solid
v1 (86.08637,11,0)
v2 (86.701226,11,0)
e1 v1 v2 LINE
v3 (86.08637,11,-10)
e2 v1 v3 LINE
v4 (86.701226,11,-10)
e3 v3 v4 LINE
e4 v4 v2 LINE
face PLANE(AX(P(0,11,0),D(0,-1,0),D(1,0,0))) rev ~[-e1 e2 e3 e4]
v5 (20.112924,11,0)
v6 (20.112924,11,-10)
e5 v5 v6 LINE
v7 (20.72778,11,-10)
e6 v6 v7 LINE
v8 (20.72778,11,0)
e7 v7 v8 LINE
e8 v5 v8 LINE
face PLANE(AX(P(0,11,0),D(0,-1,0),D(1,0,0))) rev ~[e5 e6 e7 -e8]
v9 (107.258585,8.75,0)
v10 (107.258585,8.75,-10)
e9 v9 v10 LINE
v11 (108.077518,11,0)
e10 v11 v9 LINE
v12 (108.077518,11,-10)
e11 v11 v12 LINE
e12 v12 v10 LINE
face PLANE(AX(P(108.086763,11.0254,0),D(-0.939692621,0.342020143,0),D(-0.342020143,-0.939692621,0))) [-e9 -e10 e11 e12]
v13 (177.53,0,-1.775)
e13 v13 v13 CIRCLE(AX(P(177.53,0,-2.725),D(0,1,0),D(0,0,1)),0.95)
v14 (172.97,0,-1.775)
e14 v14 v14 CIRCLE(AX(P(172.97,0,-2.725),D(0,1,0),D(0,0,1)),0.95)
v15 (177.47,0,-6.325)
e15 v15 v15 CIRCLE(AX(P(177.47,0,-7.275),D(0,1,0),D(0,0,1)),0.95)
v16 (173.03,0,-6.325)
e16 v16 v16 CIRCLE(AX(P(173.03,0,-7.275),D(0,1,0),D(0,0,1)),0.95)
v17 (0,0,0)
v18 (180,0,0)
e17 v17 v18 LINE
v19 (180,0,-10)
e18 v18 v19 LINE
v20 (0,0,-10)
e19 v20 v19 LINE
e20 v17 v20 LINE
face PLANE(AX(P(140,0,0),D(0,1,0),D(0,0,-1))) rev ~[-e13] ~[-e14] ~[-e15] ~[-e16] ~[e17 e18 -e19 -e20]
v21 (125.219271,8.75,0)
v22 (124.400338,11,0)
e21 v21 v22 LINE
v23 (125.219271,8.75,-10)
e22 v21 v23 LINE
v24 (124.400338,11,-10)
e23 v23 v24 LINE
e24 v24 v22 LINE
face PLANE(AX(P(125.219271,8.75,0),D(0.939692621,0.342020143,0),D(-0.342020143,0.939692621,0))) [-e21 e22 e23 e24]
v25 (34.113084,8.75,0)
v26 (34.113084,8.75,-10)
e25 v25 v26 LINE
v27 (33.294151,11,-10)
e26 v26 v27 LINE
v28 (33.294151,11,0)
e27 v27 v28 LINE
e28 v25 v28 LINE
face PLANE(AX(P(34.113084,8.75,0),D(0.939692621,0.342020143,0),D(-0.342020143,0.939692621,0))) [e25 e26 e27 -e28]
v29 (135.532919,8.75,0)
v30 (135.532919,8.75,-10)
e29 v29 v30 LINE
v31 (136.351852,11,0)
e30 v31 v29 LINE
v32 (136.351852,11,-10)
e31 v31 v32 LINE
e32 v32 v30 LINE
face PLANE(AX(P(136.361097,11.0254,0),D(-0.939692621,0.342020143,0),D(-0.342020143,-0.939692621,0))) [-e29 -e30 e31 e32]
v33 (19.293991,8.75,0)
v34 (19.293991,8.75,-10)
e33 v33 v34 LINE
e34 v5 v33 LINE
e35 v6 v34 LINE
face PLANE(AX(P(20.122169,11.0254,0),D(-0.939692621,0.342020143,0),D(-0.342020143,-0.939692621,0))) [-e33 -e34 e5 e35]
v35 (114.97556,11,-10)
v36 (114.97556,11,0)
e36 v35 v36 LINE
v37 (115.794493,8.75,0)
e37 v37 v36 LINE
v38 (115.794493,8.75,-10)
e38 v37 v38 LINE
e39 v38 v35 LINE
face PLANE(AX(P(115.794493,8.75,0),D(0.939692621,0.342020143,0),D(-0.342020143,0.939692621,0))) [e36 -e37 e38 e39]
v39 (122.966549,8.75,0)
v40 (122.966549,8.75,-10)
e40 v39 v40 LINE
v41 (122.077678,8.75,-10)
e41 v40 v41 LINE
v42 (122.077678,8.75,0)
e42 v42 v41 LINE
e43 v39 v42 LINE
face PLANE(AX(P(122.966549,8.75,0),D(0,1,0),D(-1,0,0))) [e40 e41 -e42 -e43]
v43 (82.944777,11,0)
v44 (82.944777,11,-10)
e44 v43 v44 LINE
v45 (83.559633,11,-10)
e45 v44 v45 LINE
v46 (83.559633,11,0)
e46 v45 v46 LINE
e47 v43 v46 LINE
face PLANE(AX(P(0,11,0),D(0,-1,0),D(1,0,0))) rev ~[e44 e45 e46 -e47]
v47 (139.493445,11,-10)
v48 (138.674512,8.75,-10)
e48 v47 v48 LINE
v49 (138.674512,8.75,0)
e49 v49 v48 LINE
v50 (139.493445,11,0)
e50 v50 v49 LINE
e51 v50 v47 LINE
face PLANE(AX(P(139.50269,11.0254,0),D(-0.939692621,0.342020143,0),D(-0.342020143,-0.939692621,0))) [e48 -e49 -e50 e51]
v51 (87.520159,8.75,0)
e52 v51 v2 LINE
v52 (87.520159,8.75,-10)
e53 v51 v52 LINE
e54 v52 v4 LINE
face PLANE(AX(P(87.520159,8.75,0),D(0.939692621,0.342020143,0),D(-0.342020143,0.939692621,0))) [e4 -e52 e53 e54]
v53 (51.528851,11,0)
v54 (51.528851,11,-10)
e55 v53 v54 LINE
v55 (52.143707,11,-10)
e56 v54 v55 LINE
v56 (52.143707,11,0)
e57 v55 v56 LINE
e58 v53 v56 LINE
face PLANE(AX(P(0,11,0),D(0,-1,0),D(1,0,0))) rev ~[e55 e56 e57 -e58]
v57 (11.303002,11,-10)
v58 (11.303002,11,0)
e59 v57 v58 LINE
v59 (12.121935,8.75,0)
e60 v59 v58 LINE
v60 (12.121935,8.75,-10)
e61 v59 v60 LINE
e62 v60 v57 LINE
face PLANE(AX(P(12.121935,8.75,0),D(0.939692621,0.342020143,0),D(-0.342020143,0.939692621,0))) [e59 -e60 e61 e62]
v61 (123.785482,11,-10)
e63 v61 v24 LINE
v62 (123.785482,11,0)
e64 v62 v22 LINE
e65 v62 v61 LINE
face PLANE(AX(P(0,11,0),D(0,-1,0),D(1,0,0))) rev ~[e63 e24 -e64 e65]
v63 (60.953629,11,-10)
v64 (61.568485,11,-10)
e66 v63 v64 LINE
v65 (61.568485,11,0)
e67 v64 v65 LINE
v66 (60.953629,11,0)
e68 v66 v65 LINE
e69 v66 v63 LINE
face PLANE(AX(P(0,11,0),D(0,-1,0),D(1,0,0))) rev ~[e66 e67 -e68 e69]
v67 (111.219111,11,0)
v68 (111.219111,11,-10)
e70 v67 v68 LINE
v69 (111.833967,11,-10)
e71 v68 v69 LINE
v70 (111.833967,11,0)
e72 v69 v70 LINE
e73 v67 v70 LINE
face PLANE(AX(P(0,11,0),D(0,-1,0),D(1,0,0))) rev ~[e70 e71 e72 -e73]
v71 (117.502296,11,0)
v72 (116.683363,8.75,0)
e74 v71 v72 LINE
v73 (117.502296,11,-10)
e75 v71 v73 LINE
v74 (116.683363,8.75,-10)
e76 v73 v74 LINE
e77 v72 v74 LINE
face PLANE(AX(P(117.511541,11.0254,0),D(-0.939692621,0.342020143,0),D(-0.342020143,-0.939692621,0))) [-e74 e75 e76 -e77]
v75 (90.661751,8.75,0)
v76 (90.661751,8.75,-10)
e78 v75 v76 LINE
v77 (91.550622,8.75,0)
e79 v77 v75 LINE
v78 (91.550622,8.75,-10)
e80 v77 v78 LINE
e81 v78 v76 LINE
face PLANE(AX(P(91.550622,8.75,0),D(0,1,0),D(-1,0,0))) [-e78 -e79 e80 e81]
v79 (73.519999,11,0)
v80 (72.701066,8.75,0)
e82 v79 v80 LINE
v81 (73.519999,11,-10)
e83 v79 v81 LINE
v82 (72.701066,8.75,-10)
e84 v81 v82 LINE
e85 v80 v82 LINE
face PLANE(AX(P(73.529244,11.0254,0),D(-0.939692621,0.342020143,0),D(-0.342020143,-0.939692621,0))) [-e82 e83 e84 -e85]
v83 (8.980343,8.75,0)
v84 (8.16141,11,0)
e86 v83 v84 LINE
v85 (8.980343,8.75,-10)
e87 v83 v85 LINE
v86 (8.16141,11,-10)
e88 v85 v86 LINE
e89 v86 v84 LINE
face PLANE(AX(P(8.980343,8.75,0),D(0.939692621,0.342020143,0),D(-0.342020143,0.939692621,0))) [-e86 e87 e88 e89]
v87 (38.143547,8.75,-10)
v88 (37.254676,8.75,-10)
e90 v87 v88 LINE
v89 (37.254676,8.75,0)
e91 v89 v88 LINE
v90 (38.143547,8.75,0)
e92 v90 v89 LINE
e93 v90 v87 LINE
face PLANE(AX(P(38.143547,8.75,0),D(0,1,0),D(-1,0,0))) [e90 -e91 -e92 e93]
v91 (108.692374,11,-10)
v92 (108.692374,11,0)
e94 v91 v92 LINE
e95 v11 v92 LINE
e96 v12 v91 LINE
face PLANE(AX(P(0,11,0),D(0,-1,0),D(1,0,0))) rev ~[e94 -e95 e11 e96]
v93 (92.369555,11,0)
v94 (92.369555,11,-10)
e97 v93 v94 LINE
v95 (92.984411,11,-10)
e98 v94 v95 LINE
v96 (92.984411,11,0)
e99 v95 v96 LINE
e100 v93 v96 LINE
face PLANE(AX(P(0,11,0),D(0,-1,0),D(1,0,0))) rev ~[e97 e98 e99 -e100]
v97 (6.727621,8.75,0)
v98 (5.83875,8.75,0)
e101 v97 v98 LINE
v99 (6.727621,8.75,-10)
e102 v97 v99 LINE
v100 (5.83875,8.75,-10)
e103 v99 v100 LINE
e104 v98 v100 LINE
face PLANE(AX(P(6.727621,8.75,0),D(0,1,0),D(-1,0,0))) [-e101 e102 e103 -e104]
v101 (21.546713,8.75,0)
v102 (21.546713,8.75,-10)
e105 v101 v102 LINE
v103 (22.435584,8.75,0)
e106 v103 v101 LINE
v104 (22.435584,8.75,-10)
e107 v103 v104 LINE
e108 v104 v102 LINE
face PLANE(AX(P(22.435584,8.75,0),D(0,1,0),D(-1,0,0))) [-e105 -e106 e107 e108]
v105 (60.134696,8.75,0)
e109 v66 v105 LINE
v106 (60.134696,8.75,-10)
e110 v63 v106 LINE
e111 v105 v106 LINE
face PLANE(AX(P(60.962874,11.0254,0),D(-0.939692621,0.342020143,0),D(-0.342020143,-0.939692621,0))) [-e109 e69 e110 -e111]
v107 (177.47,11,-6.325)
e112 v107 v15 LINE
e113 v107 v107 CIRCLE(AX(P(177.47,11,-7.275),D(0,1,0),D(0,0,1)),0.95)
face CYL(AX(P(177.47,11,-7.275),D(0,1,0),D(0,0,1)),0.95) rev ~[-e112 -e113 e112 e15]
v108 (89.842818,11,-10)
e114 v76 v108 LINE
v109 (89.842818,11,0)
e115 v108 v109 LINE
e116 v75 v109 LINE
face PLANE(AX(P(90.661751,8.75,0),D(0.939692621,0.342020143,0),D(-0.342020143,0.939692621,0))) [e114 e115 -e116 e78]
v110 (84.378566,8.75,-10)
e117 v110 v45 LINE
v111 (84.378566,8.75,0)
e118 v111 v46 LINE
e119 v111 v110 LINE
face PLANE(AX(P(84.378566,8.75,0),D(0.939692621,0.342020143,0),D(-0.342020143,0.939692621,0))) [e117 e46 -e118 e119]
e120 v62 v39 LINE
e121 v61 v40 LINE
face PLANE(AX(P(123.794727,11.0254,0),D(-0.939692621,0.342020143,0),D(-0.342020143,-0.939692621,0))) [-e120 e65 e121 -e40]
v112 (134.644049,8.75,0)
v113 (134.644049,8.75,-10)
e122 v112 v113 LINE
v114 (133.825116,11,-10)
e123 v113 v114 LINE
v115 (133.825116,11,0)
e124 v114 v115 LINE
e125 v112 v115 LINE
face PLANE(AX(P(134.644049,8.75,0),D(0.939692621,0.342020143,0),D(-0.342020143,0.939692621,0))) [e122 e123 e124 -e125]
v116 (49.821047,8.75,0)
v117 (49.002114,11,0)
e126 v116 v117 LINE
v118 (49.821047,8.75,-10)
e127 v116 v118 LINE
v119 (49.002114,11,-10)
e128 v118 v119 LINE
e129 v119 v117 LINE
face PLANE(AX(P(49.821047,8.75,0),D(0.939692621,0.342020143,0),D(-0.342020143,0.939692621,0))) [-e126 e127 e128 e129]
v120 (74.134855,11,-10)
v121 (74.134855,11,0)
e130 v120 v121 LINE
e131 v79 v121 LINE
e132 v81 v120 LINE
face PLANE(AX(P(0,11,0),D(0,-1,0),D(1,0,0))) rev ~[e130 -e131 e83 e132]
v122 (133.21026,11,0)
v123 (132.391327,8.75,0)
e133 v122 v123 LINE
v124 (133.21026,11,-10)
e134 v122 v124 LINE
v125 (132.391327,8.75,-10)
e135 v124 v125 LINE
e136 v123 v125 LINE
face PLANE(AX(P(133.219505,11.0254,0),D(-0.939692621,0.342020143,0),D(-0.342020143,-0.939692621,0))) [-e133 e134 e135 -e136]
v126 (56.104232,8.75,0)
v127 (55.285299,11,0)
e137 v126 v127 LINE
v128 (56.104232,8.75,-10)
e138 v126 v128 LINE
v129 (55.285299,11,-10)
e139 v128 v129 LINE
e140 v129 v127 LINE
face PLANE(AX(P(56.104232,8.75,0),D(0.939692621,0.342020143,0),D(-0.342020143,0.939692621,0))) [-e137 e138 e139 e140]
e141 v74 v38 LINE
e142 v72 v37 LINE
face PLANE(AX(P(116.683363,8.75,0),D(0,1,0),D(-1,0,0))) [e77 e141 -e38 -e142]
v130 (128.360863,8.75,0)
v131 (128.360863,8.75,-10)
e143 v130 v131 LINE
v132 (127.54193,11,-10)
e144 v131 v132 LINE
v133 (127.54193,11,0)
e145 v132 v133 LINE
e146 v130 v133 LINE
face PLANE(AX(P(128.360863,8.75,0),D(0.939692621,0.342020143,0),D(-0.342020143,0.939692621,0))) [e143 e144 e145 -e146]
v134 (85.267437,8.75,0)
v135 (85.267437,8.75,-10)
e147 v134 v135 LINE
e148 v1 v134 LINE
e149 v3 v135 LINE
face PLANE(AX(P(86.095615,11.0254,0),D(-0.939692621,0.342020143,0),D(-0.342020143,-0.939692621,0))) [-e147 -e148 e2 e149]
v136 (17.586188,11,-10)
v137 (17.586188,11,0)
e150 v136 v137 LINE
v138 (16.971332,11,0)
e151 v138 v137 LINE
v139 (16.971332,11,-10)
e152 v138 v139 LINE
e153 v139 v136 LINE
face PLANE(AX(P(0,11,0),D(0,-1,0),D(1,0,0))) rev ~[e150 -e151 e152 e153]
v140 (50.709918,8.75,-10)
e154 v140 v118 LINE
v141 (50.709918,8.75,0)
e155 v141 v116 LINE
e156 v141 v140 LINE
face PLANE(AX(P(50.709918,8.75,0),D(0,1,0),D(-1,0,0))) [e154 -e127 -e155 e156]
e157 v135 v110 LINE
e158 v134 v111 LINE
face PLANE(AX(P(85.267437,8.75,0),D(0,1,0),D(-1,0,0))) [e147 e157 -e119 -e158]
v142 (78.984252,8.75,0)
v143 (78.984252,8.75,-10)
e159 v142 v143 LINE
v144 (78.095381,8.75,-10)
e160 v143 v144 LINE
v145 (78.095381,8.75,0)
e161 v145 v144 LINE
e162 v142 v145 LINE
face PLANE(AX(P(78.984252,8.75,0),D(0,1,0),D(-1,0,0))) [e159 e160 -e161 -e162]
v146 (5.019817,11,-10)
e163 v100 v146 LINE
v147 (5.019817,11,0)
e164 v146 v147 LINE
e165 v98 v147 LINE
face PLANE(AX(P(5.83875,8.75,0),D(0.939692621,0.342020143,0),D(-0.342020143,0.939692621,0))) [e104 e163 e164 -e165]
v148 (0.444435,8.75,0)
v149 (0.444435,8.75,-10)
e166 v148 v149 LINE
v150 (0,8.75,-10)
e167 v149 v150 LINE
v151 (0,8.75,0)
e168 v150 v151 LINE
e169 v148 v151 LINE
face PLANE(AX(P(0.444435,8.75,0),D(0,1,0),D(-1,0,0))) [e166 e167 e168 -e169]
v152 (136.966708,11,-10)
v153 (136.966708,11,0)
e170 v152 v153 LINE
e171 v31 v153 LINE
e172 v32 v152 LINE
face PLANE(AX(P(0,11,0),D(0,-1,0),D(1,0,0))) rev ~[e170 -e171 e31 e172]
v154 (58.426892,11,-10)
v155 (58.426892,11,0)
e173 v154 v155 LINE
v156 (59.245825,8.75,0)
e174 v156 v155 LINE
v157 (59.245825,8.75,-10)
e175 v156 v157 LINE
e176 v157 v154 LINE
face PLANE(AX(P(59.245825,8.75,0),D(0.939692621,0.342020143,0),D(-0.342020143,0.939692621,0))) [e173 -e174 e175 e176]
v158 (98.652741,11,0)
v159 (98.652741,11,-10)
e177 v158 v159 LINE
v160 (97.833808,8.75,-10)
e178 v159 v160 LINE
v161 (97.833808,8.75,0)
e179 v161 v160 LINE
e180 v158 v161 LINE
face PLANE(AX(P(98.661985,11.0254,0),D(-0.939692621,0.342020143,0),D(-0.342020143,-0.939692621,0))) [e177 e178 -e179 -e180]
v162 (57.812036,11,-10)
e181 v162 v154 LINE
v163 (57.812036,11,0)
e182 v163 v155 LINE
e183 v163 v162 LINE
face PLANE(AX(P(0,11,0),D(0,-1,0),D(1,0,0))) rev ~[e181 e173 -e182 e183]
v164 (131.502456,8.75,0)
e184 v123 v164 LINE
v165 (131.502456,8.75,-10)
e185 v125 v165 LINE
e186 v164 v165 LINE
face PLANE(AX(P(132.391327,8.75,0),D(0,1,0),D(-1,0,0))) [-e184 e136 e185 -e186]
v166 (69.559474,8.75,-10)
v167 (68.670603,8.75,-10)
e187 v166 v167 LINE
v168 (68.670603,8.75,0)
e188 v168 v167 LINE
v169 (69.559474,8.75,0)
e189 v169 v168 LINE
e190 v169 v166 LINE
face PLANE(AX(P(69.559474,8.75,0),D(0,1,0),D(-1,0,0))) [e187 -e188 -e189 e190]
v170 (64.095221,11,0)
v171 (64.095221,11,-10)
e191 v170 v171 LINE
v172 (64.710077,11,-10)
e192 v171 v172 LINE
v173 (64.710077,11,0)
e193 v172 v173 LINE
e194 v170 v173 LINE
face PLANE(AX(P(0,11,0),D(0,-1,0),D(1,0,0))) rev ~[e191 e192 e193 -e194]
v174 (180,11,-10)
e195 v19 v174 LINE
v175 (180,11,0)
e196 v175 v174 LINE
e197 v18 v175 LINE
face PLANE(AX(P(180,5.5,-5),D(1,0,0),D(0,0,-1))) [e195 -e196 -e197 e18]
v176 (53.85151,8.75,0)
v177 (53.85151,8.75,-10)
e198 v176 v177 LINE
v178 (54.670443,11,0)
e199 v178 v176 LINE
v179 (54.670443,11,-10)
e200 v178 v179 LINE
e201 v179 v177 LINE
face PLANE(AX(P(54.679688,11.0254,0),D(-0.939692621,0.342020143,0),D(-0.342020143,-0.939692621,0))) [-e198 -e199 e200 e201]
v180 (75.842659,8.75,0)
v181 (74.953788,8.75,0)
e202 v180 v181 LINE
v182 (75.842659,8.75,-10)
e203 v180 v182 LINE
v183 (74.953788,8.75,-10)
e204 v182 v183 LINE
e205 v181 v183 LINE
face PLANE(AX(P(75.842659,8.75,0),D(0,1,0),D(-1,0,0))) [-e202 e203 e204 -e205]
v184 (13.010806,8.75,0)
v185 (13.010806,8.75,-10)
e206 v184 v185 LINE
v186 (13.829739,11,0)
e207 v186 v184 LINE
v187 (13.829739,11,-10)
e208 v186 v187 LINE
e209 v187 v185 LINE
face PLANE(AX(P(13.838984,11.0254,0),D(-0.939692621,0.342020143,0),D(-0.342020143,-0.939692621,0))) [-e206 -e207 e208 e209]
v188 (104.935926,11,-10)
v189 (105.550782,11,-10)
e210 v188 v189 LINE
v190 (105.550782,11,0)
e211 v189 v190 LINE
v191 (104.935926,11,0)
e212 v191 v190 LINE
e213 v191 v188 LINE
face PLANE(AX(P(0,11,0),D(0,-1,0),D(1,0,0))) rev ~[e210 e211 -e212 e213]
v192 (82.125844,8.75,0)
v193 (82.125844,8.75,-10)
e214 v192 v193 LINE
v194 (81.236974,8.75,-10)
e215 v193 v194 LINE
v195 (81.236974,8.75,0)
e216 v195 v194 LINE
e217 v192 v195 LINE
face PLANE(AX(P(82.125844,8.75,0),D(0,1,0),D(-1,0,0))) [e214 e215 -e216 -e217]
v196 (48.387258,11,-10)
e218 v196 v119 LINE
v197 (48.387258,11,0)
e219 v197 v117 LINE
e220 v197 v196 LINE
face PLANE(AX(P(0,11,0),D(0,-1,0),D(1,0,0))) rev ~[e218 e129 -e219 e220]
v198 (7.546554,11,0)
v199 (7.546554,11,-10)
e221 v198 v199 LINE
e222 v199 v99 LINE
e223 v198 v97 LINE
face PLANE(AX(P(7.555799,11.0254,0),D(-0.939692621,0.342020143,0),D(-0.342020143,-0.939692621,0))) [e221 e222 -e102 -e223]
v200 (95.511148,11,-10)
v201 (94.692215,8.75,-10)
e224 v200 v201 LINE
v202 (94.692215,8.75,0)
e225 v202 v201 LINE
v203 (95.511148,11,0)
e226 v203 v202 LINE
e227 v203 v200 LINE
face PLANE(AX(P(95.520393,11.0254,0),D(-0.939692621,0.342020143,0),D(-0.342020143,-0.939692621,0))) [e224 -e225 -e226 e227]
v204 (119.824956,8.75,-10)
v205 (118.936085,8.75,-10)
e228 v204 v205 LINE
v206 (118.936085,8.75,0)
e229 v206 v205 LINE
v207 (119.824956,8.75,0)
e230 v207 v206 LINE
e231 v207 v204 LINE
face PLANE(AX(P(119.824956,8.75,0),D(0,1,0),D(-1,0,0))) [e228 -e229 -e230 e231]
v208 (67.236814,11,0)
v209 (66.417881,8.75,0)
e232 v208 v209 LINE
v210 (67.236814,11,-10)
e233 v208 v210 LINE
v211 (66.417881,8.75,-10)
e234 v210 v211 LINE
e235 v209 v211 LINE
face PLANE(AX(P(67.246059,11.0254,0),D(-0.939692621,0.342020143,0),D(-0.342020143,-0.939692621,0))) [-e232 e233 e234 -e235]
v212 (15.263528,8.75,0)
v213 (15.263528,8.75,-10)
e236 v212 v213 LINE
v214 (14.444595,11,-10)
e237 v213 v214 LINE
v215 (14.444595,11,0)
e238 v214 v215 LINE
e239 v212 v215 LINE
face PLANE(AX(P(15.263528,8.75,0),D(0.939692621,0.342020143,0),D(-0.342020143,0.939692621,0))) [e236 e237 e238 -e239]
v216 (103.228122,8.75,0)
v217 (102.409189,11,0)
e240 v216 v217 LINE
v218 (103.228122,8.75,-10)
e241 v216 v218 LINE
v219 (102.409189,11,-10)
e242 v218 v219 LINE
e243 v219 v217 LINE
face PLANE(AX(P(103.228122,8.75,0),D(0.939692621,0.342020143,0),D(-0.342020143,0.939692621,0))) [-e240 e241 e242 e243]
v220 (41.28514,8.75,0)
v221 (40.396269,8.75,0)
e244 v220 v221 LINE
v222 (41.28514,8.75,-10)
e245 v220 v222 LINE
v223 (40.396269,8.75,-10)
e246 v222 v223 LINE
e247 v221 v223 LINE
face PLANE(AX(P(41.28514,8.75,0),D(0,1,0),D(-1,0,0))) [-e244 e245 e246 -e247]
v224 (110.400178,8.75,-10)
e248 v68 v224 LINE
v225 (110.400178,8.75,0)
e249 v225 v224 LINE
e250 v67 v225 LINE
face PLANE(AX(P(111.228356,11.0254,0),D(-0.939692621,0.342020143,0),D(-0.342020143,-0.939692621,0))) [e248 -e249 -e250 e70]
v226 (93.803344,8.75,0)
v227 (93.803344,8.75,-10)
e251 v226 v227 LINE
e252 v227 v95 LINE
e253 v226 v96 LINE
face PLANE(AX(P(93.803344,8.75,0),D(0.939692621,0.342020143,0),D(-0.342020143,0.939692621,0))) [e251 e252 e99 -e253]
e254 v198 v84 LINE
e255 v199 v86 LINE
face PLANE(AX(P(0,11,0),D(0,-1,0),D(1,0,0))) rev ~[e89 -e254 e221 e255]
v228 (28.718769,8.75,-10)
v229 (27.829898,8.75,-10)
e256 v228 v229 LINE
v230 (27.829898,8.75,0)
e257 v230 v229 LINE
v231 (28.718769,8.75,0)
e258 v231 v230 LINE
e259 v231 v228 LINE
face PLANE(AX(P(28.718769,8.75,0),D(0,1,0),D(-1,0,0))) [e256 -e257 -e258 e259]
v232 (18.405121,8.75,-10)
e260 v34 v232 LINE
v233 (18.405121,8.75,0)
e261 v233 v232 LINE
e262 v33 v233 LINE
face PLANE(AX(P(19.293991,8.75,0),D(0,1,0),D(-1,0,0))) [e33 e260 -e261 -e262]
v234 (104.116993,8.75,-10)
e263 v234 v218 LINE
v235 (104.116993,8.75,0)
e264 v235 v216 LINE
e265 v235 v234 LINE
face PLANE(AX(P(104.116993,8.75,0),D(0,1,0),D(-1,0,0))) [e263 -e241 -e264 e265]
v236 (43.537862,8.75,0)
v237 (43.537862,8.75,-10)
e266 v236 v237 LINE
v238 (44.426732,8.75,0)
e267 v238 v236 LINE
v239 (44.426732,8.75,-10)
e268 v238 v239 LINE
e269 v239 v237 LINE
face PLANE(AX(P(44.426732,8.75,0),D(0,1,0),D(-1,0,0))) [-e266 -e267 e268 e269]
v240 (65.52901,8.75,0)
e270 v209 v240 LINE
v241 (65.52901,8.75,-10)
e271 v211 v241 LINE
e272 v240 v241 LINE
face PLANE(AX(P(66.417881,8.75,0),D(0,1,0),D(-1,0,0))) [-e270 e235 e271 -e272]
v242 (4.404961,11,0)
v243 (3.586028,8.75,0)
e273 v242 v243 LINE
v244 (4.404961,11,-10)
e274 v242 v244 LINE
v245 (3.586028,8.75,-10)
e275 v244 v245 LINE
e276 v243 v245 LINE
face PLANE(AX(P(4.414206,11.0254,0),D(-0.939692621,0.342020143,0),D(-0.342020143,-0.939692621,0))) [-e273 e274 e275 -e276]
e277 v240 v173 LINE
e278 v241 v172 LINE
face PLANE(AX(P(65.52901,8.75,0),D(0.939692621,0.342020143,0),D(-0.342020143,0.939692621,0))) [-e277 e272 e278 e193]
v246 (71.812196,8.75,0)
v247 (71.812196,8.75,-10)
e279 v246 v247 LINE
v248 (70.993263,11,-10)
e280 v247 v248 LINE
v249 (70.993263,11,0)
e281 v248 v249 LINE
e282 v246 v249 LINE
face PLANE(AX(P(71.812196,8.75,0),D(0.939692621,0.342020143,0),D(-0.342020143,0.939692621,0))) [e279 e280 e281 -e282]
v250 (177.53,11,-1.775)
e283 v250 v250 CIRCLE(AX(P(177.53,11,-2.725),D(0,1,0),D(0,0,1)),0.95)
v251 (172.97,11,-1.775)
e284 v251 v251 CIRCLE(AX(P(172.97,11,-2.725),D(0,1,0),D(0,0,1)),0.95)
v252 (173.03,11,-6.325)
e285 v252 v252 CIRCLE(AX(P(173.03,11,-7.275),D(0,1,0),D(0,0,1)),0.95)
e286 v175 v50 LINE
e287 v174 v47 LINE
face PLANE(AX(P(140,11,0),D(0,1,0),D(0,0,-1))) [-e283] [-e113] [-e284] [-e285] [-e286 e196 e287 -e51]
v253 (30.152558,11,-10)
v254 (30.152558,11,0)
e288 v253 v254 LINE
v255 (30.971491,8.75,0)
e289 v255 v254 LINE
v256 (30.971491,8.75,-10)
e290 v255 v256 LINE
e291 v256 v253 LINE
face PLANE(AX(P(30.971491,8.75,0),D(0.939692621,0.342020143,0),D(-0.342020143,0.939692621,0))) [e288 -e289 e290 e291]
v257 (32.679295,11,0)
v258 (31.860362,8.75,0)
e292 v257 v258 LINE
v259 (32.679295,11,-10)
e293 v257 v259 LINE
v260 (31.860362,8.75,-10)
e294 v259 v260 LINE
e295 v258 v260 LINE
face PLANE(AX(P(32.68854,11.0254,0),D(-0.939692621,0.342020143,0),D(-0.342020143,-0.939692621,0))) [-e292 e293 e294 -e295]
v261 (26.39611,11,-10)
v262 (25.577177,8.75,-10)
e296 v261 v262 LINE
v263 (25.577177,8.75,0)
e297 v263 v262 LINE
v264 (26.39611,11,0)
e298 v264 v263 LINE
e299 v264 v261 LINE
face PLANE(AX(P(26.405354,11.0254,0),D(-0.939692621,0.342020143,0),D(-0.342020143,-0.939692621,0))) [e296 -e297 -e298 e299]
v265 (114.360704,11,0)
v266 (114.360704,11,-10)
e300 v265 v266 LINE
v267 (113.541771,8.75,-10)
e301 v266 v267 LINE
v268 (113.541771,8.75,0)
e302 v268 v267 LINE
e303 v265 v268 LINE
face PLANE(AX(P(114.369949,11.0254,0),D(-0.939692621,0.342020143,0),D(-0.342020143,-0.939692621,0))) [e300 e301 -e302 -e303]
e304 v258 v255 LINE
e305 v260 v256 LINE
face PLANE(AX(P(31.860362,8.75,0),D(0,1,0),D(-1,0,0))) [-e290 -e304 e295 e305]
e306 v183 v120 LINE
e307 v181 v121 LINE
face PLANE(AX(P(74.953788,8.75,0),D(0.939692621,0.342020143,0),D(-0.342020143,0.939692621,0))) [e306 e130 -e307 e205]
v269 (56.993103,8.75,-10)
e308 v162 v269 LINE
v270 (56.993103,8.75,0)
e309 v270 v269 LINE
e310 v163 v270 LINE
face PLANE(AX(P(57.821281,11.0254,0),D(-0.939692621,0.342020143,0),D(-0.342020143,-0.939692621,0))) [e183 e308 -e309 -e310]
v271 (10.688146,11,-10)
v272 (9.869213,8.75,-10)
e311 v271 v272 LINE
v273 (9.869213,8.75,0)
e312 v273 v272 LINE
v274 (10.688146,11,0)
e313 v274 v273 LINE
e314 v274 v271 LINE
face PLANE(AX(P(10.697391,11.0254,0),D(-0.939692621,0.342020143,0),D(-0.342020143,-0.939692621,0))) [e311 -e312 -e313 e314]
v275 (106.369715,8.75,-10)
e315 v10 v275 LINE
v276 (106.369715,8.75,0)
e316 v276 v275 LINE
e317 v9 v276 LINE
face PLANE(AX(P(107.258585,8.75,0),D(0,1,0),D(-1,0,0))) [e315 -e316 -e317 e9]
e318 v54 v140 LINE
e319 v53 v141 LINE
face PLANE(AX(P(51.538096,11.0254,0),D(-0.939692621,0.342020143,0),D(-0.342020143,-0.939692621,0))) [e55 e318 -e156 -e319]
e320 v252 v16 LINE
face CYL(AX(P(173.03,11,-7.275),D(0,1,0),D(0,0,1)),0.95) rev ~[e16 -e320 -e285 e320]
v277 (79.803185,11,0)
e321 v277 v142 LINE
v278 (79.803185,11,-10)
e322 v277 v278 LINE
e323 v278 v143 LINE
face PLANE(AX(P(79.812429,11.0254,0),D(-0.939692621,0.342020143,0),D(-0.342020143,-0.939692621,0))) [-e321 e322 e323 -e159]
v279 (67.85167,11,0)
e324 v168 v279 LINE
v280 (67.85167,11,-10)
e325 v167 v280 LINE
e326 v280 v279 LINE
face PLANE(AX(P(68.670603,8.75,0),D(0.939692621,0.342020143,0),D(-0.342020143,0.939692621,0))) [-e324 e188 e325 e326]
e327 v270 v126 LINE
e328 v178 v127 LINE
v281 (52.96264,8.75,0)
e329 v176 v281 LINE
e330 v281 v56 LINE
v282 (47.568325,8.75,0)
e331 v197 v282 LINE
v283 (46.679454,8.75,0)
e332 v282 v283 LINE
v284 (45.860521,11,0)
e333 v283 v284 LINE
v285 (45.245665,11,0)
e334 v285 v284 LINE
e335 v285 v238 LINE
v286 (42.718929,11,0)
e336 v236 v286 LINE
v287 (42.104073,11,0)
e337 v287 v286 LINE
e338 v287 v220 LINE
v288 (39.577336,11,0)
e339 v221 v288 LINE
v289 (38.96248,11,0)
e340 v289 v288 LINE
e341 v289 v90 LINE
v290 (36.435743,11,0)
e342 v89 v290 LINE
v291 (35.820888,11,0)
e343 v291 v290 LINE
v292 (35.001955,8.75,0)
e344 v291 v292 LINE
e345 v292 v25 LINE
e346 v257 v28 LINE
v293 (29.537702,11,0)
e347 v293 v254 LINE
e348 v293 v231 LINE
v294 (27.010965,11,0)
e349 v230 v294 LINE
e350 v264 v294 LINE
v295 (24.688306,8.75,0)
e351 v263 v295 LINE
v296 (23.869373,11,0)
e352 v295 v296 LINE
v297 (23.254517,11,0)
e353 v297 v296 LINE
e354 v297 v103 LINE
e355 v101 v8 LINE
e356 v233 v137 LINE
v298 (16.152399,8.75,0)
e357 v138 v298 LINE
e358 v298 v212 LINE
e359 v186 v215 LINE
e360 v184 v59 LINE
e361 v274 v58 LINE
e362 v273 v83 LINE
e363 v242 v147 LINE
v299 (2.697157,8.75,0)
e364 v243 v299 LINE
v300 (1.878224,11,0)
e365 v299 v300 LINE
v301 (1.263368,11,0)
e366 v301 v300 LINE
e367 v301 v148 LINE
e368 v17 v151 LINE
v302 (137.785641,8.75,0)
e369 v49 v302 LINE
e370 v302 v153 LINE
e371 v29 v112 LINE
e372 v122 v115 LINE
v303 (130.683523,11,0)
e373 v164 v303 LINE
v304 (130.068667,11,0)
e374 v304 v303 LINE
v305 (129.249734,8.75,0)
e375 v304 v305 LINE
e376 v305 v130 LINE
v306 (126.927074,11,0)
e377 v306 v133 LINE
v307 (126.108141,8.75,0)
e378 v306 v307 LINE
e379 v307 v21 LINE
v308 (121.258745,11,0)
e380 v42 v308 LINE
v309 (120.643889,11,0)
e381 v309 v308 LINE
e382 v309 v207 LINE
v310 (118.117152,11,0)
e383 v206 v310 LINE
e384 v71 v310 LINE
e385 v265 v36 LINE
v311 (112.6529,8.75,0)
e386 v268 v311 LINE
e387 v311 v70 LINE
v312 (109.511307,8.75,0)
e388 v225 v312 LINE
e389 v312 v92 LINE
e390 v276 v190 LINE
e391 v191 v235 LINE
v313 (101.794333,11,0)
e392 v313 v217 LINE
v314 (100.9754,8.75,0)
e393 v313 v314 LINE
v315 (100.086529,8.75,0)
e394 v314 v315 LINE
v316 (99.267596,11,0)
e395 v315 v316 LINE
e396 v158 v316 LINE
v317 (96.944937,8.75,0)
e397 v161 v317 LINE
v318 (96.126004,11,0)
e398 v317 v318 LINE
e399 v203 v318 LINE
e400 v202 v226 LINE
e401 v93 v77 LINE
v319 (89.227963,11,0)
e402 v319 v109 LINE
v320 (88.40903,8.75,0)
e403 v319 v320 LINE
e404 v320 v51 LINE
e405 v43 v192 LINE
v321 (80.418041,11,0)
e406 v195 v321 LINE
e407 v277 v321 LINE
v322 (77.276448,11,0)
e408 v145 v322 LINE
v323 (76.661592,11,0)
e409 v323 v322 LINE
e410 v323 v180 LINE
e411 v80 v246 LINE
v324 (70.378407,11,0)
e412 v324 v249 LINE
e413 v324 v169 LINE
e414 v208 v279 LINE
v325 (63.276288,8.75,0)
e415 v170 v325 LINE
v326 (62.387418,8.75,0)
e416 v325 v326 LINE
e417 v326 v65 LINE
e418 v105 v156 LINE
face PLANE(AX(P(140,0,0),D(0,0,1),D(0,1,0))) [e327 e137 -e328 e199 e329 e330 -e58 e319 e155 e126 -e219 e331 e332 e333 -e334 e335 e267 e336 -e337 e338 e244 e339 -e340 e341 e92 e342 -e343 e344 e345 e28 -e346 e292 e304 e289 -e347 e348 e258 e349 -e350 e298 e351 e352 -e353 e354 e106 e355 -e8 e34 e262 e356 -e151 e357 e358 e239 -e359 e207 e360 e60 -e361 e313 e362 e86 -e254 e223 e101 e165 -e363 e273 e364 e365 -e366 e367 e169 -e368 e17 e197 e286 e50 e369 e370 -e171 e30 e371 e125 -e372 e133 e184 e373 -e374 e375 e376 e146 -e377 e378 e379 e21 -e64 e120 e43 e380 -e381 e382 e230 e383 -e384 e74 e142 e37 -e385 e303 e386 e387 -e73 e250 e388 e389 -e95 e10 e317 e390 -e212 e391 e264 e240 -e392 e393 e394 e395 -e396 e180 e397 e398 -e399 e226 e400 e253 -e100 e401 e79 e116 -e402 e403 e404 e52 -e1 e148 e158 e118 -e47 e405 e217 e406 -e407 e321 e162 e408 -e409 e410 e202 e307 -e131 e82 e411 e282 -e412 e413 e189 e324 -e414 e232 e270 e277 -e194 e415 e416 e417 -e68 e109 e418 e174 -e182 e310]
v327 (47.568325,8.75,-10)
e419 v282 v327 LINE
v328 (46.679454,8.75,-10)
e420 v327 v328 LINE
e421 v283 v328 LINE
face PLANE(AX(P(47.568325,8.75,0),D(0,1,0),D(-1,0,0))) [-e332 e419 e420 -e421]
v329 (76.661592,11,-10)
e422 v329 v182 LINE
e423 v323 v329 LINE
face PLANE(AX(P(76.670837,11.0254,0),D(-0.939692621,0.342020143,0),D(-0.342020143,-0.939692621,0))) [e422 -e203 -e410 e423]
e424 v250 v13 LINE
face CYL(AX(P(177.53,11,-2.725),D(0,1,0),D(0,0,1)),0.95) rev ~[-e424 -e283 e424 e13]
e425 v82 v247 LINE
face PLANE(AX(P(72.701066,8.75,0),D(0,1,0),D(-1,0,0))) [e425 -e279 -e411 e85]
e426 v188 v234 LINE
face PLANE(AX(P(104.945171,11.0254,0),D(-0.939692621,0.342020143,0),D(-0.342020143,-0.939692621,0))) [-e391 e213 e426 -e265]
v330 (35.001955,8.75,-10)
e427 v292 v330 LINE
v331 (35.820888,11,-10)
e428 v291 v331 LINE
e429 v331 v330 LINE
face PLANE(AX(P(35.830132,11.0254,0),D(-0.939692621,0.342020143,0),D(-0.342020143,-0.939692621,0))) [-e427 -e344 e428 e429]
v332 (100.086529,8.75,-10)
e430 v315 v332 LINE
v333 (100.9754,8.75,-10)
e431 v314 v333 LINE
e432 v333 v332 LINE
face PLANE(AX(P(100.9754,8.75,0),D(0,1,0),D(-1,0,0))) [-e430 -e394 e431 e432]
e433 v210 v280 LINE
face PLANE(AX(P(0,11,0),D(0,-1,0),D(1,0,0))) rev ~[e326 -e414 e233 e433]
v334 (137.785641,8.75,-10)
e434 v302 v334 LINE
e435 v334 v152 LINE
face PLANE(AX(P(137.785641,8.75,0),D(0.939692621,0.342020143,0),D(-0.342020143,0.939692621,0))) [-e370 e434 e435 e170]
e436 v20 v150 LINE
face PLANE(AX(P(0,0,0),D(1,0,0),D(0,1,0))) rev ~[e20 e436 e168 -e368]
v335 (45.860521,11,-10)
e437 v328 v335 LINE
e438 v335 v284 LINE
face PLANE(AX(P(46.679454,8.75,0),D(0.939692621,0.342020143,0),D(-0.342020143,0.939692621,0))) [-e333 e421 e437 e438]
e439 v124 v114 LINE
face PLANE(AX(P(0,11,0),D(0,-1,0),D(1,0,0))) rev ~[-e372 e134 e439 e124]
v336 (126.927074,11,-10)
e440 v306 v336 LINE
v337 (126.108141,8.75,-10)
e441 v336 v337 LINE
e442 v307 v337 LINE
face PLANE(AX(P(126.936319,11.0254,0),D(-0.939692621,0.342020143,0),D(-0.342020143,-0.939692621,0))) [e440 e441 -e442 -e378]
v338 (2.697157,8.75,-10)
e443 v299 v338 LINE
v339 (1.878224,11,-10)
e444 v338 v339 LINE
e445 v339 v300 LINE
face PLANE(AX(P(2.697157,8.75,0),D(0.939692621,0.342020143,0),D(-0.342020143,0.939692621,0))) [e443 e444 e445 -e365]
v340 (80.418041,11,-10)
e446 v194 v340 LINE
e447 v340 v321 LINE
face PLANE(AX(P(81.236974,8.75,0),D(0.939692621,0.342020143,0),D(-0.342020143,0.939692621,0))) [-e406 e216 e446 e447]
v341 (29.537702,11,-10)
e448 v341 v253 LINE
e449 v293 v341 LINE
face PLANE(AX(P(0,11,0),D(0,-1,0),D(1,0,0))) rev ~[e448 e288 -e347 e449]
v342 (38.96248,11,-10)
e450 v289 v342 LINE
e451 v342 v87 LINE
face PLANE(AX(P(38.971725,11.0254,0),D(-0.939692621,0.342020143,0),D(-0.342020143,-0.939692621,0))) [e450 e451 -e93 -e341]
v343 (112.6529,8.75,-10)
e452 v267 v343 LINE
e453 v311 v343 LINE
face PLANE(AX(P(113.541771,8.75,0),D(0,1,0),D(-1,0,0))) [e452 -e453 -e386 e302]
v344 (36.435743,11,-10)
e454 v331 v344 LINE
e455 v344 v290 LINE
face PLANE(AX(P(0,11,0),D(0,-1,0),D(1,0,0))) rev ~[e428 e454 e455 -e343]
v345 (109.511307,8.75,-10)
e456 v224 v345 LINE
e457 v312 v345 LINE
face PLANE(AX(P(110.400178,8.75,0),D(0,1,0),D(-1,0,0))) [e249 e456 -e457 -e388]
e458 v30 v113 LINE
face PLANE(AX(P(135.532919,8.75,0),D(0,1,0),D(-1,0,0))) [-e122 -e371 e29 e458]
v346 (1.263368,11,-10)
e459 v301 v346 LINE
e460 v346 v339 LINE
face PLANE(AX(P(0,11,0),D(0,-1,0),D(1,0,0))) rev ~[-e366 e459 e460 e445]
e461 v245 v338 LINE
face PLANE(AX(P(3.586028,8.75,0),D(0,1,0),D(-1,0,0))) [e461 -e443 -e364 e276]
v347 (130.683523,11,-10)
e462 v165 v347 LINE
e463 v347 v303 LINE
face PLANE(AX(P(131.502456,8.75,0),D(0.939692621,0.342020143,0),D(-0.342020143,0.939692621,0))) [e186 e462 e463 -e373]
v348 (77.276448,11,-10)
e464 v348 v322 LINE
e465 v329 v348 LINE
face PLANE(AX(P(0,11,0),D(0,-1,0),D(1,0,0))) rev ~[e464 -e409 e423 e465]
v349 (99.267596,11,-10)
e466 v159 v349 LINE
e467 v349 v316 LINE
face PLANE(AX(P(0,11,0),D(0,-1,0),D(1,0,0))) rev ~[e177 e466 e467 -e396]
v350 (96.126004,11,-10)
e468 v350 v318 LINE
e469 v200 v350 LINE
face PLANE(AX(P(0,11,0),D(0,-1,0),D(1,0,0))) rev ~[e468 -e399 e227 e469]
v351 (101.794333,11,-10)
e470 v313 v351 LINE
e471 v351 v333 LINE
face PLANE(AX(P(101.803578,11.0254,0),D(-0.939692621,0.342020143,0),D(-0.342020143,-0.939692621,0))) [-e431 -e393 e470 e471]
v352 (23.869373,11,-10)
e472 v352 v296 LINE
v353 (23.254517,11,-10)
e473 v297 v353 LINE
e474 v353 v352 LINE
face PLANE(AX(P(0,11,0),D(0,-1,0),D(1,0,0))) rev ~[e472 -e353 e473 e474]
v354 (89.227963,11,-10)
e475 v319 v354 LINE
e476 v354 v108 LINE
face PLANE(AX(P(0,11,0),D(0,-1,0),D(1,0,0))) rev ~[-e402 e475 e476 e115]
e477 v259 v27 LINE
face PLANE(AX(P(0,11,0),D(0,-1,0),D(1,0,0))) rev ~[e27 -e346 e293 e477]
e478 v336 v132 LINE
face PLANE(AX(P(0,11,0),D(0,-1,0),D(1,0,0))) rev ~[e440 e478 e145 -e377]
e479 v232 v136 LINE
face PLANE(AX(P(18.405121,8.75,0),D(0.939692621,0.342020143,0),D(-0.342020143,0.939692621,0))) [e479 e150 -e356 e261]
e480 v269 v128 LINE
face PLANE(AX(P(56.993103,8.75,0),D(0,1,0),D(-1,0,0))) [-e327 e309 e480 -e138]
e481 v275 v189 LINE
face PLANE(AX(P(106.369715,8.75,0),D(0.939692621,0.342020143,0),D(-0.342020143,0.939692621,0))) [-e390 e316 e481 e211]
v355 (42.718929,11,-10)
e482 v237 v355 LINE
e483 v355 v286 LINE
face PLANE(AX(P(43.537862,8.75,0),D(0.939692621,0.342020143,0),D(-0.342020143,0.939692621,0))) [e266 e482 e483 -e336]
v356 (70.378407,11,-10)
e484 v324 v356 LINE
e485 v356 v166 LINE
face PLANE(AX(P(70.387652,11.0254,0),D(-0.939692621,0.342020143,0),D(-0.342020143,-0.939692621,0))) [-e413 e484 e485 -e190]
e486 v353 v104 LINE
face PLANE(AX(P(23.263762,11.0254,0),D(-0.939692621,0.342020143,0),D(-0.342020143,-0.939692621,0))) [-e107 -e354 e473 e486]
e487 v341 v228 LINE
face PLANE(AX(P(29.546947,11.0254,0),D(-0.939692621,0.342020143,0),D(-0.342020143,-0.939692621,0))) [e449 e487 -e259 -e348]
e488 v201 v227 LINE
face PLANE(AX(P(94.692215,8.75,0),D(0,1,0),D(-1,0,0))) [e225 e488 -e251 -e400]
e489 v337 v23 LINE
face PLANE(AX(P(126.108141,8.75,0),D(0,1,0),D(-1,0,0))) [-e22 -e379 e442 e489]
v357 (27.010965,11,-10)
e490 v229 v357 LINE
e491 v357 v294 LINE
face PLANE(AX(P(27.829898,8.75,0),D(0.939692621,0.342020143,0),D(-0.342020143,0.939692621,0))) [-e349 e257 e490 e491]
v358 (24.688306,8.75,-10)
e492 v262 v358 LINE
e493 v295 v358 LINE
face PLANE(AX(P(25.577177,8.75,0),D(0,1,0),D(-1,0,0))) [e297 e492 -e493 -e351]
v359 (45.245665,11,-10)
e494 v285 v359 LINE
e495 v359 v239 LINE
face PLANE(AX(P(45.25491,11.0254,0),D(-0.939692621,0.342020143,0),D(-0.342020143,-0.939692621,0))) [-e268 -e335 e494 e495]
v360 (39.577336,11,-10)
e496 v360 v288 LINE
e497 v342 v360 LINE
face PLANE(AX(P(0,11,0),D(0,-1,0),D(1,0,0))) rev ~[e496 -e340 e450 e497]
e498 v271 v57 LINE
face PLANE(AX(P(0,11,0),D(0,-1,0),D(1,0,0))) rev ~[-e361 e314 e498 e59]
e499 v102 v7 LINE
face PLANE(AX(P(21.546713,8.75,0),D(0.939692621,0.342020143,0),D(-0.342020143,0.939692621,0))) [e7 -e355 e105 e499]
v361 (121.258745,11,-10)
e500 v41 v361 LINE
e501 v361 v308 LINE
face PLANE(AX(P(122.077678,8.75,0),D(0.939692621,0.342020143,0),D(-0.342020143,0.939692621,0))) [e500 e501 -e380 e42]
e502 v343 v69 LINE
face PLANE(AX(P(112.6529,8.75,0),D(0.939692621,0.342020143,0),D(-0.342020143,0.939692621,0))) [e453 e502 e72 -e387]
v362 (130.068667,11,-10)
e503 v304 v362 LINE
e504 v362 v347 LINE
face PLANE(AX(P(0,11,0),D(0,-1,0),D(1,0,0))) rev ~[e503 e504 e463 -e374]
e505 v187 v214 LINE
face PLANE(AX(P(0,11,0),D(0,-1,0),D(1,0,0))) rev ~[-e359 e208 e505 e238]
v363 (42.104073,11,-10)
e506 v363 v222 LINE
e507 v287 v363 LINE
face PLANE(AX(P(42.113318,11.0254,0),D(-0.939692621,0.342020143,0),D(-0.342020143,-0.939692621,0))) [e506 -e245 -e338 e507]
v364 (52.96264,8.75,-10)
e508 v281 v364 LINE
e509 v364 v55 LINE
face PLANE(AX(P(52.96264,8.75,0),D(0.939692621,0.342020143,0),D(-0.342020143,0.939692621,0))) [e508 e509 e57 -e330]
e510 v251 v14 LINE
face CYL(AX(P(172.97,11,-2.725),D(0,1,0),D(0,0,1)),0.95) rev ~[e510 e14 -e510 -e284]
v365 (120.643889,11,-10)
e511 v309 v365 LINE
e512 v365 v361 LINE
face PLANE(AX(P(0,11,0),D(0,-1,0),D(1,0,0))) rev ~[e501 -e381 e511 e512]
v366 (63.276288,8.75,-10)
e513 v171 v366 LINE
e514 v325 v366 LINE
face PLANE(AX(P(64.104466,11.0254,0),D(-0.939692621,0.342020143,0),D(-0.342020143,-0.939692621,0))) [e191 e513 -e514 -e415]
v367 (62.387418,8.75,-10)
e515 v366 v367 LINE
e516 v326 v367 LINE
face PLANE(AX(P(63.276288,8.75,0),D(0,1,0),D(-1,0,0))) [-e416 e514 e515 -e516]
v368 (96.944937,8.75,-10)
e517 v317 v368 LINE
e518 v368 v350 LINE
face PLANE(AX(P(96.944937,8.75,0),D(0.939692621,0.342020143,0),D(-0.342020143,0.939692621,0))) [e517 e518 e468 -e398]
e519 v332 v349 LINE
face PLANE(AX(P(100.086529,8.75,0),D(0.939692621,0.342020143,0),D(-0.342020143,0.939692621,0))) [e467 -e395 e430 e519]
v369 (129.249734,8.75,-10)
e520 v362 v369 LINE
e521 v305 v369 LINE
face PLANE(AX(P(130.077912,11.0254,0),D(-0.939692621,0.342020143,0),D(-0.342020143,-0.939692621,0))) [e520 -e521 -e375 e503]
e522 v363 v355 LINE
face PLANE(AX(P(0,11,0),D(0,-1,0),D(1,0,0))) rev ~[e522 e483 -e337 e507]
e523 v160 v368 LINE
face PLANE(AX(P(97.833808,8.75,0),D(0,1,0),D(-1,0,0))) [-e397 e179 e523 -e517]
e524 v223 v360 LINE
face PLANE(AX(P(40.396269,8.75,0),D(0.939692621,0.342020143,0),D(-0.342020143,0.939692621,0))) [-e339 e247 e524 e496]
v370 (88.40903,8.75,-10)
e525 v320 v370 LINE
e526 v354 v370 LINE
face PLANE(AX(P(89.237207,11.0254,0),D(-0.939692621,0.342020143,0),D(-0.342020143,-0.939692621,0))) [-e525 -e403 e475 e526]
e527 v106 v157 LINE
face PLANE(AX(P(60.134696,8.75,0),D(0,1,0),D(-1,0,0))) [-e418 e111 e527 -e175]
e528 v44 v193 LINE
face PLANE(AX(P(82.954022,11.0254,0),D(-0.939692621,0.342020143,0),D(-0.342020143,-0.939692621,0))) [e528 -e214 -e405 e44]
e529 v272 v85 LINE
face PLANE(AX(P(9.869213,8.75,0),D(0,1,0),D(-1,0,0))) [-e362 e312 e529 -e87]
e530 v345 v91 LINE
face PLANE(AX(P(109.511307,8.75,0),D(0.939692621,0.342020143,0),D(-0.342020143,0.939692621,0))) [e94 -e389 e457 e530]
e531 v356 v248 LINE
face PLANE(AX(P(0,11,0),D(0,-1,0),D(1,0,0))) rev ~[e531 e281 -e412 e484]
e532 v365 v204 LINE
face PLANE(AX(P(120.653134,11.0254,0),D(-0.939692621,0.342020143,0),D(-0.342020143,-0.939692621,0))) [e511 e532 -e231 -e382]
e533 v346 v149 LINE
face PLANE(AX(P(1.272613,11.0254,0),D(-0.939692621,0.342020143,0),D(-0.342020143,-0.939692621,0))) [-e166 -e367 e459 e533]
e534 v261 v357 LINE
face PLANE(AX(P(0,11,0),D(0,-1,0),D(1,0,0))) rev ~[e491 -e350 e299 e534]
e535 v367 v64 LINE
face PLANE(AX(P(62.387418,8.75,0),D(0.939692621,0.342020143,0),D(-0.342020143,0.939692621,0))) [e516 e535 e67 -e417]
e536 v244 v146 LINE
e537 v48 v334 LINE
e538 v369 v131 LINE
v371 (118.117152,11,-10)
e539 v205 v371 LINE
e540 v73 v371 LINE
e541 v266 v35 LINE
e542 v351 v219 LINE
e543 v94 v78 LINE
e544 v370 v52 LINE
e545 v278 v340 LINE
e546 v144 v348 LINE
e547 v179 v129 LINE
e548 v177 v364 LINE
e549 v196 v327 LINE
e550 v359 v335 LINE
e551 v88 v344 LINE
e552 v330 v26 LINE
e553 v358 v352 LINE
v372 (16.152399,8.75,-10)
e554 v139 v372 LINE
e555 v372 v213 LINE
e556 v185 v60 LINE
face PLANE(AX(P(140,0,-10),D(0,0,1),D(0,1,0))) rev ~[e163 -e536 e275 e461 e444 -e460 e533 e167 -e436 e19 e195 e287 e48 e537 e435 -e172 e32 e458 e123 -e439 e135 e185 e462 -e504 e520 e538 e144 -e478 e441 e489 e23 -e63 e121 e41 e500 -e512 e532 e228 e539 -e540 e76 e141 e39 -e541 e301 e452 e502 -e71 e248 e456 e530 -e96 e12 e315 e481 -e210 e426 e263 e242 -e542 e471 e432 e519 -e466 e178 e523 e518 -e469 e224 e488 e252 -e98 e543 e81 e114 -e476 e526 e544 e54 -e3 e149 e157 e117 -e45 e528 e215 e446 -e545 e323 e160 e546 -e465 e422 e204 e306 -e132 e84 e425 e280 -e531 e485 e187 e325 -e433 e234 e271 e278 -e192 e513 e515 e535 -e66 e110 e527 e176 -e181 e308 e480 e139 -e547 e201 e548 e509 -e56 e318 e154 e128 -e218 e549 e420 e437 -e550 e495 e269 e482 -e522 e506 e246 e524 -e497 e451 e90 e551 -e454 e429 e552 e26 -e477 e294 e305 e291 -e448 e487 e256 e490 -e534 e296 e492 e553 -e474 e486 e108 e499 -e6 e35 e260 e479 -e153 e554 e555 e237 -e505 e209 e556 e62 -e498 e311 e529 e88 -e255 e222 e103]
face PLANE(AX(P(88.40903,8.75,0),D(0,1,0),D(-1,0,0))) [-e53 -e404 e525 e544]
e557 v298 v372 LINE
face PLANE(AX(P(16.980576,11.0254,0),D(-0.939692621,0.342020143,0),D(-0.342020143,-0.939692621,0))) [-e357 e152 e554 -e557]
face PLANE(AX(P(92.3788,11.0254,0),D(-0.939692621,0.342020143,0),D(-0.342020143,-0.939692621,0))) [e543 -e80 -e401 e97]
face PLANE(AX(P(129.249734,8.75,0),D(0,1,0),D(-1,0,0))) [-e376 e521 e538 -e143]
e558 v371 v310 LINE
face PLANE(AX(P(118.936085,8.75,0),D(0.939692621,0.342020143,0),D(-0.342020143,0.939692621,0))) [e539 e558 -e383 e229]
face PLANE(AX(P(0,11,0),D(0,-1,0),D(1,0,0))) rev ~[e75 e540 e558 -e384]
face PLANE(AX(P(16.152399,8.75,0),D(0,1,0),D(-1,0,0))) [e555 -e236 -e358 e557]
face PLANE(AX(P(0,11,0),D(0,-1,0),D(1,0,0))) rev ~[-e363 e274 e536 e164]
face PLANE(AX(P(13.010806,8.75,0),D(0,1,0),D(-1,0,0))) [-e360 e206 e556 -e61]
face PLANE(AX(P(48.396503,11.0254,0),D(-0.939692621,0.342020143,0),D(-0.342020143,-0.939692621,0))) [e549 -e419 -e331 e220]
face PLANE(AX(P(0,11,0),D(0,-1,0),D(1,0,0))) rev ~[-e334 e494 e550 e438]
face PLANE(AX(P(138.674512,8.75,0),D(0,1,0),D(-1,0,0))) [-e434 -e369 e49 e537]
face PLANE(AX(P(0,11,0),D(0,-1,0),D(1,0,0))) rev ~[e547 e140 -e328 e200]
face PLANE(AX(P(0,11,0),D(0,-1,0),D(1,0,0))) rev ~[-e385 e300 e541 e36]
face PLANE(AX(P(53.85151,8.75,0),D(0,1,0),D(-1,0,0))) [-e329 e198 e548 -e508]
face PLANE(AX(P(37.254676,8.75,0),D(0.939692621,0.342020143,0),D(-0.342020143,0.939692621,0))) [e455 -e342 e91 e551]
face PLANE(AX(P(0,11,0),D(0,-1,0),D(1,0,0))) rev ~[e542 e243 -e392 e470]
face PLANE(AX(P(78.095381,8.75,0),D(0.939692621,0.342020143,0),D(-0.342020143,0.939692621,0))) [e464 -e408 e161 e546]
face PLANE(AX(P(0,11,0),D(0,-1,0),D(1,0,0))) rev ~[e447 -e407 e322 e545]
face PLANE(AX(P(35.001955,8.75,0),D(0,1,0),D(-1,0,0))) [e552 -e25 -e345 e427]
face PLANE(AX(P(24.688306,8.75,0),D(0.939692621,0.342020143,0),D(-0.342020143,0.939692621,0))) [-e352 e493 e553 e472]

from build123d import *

# Parameters (mm, degrees)
BLANKSKE_W          = 140
BLANKSKE_H          = 11
BLANK_DEPTH         = 10
TOOTHCUTSIM_DEPTH   = 141.78707327
TEETHCUTS_COUNT     = 46
TEETHCUTS_PITCH     = 3.14159265
SKETCH1_W           = 10
SKETCH1_H           = 11
BOSS_EXTRUDE1_DEPTH = 40
SKETCH3_R           = 0.95
CUT_EXTRUDE1_DEPTH  = 181.612845612


with BuildPart() as part:
    # BlankSke → Blank (new body)
    with BuildSketch(Plane.XY):
        with Locations((70, 5.5)):
            Rectangle(BLANKSKE_W, BLANKSKE_H)
    extrude(amount=-BLANK_DEPTH)

    # TooCutSkeSim → ToothCutSim (cut, through all)
    with BuildSketch(Plane.XY):
        Polygon((0.44443537, 8.75), (-0.44443537, 8.75), (-1.272613241, 11.0254), (1.272613241, 11.0254), align=None)
    toothcutsim = extrude(amount=-TOOTHCUTSIM_DEPTH, mode=Mode.SUBTRACT)

    # TeethCuts: ToothCutSim ×46
    with Locations(*[(i * TEETHCUTS_PITCH, 0, 0) for i in range(1, TEETHCUTS_COUNT)]):
        add(toothcutsim, mode=Mode.SUBTRACT)

    # Sketch1 → Boss-Extrude1 (add)
    with BuildSketch(Plane(origin=(140, 0, 0), x_dir=(0, 0, -1), z_dir=(1, 0, 0))):
        with Locations((5, 5.5)):
            Rectangle(SKETCH1_W, SKETCH1_H)
    extrude(amount=BOSS_EXTRUDE1_DEPTH)

    # Sketch3 → Cut-Extrude1 (cut, through all)
    with BuildSketch(Plane(origin=(0, 11, 0), x_dir=(1, 0, 0), z_dir=(0, 1, 0))):
        with Locations((173.03, 7.275)):
            Circle(SKETCH3_R)
        with Locations((177.47, 7.275)):
            Circle(SKETCH3_R)
        with Locations((177.53, 2.725)):
            Circle(SKETCH3_R)
        with Locations((172.97, 2.725)):
            Circle(SKETCH3_R)
    extrude(amount=-CUT_EXTRUDE1_DEPTH, mode=Mode.SUBTRACT)


solid = part.part
